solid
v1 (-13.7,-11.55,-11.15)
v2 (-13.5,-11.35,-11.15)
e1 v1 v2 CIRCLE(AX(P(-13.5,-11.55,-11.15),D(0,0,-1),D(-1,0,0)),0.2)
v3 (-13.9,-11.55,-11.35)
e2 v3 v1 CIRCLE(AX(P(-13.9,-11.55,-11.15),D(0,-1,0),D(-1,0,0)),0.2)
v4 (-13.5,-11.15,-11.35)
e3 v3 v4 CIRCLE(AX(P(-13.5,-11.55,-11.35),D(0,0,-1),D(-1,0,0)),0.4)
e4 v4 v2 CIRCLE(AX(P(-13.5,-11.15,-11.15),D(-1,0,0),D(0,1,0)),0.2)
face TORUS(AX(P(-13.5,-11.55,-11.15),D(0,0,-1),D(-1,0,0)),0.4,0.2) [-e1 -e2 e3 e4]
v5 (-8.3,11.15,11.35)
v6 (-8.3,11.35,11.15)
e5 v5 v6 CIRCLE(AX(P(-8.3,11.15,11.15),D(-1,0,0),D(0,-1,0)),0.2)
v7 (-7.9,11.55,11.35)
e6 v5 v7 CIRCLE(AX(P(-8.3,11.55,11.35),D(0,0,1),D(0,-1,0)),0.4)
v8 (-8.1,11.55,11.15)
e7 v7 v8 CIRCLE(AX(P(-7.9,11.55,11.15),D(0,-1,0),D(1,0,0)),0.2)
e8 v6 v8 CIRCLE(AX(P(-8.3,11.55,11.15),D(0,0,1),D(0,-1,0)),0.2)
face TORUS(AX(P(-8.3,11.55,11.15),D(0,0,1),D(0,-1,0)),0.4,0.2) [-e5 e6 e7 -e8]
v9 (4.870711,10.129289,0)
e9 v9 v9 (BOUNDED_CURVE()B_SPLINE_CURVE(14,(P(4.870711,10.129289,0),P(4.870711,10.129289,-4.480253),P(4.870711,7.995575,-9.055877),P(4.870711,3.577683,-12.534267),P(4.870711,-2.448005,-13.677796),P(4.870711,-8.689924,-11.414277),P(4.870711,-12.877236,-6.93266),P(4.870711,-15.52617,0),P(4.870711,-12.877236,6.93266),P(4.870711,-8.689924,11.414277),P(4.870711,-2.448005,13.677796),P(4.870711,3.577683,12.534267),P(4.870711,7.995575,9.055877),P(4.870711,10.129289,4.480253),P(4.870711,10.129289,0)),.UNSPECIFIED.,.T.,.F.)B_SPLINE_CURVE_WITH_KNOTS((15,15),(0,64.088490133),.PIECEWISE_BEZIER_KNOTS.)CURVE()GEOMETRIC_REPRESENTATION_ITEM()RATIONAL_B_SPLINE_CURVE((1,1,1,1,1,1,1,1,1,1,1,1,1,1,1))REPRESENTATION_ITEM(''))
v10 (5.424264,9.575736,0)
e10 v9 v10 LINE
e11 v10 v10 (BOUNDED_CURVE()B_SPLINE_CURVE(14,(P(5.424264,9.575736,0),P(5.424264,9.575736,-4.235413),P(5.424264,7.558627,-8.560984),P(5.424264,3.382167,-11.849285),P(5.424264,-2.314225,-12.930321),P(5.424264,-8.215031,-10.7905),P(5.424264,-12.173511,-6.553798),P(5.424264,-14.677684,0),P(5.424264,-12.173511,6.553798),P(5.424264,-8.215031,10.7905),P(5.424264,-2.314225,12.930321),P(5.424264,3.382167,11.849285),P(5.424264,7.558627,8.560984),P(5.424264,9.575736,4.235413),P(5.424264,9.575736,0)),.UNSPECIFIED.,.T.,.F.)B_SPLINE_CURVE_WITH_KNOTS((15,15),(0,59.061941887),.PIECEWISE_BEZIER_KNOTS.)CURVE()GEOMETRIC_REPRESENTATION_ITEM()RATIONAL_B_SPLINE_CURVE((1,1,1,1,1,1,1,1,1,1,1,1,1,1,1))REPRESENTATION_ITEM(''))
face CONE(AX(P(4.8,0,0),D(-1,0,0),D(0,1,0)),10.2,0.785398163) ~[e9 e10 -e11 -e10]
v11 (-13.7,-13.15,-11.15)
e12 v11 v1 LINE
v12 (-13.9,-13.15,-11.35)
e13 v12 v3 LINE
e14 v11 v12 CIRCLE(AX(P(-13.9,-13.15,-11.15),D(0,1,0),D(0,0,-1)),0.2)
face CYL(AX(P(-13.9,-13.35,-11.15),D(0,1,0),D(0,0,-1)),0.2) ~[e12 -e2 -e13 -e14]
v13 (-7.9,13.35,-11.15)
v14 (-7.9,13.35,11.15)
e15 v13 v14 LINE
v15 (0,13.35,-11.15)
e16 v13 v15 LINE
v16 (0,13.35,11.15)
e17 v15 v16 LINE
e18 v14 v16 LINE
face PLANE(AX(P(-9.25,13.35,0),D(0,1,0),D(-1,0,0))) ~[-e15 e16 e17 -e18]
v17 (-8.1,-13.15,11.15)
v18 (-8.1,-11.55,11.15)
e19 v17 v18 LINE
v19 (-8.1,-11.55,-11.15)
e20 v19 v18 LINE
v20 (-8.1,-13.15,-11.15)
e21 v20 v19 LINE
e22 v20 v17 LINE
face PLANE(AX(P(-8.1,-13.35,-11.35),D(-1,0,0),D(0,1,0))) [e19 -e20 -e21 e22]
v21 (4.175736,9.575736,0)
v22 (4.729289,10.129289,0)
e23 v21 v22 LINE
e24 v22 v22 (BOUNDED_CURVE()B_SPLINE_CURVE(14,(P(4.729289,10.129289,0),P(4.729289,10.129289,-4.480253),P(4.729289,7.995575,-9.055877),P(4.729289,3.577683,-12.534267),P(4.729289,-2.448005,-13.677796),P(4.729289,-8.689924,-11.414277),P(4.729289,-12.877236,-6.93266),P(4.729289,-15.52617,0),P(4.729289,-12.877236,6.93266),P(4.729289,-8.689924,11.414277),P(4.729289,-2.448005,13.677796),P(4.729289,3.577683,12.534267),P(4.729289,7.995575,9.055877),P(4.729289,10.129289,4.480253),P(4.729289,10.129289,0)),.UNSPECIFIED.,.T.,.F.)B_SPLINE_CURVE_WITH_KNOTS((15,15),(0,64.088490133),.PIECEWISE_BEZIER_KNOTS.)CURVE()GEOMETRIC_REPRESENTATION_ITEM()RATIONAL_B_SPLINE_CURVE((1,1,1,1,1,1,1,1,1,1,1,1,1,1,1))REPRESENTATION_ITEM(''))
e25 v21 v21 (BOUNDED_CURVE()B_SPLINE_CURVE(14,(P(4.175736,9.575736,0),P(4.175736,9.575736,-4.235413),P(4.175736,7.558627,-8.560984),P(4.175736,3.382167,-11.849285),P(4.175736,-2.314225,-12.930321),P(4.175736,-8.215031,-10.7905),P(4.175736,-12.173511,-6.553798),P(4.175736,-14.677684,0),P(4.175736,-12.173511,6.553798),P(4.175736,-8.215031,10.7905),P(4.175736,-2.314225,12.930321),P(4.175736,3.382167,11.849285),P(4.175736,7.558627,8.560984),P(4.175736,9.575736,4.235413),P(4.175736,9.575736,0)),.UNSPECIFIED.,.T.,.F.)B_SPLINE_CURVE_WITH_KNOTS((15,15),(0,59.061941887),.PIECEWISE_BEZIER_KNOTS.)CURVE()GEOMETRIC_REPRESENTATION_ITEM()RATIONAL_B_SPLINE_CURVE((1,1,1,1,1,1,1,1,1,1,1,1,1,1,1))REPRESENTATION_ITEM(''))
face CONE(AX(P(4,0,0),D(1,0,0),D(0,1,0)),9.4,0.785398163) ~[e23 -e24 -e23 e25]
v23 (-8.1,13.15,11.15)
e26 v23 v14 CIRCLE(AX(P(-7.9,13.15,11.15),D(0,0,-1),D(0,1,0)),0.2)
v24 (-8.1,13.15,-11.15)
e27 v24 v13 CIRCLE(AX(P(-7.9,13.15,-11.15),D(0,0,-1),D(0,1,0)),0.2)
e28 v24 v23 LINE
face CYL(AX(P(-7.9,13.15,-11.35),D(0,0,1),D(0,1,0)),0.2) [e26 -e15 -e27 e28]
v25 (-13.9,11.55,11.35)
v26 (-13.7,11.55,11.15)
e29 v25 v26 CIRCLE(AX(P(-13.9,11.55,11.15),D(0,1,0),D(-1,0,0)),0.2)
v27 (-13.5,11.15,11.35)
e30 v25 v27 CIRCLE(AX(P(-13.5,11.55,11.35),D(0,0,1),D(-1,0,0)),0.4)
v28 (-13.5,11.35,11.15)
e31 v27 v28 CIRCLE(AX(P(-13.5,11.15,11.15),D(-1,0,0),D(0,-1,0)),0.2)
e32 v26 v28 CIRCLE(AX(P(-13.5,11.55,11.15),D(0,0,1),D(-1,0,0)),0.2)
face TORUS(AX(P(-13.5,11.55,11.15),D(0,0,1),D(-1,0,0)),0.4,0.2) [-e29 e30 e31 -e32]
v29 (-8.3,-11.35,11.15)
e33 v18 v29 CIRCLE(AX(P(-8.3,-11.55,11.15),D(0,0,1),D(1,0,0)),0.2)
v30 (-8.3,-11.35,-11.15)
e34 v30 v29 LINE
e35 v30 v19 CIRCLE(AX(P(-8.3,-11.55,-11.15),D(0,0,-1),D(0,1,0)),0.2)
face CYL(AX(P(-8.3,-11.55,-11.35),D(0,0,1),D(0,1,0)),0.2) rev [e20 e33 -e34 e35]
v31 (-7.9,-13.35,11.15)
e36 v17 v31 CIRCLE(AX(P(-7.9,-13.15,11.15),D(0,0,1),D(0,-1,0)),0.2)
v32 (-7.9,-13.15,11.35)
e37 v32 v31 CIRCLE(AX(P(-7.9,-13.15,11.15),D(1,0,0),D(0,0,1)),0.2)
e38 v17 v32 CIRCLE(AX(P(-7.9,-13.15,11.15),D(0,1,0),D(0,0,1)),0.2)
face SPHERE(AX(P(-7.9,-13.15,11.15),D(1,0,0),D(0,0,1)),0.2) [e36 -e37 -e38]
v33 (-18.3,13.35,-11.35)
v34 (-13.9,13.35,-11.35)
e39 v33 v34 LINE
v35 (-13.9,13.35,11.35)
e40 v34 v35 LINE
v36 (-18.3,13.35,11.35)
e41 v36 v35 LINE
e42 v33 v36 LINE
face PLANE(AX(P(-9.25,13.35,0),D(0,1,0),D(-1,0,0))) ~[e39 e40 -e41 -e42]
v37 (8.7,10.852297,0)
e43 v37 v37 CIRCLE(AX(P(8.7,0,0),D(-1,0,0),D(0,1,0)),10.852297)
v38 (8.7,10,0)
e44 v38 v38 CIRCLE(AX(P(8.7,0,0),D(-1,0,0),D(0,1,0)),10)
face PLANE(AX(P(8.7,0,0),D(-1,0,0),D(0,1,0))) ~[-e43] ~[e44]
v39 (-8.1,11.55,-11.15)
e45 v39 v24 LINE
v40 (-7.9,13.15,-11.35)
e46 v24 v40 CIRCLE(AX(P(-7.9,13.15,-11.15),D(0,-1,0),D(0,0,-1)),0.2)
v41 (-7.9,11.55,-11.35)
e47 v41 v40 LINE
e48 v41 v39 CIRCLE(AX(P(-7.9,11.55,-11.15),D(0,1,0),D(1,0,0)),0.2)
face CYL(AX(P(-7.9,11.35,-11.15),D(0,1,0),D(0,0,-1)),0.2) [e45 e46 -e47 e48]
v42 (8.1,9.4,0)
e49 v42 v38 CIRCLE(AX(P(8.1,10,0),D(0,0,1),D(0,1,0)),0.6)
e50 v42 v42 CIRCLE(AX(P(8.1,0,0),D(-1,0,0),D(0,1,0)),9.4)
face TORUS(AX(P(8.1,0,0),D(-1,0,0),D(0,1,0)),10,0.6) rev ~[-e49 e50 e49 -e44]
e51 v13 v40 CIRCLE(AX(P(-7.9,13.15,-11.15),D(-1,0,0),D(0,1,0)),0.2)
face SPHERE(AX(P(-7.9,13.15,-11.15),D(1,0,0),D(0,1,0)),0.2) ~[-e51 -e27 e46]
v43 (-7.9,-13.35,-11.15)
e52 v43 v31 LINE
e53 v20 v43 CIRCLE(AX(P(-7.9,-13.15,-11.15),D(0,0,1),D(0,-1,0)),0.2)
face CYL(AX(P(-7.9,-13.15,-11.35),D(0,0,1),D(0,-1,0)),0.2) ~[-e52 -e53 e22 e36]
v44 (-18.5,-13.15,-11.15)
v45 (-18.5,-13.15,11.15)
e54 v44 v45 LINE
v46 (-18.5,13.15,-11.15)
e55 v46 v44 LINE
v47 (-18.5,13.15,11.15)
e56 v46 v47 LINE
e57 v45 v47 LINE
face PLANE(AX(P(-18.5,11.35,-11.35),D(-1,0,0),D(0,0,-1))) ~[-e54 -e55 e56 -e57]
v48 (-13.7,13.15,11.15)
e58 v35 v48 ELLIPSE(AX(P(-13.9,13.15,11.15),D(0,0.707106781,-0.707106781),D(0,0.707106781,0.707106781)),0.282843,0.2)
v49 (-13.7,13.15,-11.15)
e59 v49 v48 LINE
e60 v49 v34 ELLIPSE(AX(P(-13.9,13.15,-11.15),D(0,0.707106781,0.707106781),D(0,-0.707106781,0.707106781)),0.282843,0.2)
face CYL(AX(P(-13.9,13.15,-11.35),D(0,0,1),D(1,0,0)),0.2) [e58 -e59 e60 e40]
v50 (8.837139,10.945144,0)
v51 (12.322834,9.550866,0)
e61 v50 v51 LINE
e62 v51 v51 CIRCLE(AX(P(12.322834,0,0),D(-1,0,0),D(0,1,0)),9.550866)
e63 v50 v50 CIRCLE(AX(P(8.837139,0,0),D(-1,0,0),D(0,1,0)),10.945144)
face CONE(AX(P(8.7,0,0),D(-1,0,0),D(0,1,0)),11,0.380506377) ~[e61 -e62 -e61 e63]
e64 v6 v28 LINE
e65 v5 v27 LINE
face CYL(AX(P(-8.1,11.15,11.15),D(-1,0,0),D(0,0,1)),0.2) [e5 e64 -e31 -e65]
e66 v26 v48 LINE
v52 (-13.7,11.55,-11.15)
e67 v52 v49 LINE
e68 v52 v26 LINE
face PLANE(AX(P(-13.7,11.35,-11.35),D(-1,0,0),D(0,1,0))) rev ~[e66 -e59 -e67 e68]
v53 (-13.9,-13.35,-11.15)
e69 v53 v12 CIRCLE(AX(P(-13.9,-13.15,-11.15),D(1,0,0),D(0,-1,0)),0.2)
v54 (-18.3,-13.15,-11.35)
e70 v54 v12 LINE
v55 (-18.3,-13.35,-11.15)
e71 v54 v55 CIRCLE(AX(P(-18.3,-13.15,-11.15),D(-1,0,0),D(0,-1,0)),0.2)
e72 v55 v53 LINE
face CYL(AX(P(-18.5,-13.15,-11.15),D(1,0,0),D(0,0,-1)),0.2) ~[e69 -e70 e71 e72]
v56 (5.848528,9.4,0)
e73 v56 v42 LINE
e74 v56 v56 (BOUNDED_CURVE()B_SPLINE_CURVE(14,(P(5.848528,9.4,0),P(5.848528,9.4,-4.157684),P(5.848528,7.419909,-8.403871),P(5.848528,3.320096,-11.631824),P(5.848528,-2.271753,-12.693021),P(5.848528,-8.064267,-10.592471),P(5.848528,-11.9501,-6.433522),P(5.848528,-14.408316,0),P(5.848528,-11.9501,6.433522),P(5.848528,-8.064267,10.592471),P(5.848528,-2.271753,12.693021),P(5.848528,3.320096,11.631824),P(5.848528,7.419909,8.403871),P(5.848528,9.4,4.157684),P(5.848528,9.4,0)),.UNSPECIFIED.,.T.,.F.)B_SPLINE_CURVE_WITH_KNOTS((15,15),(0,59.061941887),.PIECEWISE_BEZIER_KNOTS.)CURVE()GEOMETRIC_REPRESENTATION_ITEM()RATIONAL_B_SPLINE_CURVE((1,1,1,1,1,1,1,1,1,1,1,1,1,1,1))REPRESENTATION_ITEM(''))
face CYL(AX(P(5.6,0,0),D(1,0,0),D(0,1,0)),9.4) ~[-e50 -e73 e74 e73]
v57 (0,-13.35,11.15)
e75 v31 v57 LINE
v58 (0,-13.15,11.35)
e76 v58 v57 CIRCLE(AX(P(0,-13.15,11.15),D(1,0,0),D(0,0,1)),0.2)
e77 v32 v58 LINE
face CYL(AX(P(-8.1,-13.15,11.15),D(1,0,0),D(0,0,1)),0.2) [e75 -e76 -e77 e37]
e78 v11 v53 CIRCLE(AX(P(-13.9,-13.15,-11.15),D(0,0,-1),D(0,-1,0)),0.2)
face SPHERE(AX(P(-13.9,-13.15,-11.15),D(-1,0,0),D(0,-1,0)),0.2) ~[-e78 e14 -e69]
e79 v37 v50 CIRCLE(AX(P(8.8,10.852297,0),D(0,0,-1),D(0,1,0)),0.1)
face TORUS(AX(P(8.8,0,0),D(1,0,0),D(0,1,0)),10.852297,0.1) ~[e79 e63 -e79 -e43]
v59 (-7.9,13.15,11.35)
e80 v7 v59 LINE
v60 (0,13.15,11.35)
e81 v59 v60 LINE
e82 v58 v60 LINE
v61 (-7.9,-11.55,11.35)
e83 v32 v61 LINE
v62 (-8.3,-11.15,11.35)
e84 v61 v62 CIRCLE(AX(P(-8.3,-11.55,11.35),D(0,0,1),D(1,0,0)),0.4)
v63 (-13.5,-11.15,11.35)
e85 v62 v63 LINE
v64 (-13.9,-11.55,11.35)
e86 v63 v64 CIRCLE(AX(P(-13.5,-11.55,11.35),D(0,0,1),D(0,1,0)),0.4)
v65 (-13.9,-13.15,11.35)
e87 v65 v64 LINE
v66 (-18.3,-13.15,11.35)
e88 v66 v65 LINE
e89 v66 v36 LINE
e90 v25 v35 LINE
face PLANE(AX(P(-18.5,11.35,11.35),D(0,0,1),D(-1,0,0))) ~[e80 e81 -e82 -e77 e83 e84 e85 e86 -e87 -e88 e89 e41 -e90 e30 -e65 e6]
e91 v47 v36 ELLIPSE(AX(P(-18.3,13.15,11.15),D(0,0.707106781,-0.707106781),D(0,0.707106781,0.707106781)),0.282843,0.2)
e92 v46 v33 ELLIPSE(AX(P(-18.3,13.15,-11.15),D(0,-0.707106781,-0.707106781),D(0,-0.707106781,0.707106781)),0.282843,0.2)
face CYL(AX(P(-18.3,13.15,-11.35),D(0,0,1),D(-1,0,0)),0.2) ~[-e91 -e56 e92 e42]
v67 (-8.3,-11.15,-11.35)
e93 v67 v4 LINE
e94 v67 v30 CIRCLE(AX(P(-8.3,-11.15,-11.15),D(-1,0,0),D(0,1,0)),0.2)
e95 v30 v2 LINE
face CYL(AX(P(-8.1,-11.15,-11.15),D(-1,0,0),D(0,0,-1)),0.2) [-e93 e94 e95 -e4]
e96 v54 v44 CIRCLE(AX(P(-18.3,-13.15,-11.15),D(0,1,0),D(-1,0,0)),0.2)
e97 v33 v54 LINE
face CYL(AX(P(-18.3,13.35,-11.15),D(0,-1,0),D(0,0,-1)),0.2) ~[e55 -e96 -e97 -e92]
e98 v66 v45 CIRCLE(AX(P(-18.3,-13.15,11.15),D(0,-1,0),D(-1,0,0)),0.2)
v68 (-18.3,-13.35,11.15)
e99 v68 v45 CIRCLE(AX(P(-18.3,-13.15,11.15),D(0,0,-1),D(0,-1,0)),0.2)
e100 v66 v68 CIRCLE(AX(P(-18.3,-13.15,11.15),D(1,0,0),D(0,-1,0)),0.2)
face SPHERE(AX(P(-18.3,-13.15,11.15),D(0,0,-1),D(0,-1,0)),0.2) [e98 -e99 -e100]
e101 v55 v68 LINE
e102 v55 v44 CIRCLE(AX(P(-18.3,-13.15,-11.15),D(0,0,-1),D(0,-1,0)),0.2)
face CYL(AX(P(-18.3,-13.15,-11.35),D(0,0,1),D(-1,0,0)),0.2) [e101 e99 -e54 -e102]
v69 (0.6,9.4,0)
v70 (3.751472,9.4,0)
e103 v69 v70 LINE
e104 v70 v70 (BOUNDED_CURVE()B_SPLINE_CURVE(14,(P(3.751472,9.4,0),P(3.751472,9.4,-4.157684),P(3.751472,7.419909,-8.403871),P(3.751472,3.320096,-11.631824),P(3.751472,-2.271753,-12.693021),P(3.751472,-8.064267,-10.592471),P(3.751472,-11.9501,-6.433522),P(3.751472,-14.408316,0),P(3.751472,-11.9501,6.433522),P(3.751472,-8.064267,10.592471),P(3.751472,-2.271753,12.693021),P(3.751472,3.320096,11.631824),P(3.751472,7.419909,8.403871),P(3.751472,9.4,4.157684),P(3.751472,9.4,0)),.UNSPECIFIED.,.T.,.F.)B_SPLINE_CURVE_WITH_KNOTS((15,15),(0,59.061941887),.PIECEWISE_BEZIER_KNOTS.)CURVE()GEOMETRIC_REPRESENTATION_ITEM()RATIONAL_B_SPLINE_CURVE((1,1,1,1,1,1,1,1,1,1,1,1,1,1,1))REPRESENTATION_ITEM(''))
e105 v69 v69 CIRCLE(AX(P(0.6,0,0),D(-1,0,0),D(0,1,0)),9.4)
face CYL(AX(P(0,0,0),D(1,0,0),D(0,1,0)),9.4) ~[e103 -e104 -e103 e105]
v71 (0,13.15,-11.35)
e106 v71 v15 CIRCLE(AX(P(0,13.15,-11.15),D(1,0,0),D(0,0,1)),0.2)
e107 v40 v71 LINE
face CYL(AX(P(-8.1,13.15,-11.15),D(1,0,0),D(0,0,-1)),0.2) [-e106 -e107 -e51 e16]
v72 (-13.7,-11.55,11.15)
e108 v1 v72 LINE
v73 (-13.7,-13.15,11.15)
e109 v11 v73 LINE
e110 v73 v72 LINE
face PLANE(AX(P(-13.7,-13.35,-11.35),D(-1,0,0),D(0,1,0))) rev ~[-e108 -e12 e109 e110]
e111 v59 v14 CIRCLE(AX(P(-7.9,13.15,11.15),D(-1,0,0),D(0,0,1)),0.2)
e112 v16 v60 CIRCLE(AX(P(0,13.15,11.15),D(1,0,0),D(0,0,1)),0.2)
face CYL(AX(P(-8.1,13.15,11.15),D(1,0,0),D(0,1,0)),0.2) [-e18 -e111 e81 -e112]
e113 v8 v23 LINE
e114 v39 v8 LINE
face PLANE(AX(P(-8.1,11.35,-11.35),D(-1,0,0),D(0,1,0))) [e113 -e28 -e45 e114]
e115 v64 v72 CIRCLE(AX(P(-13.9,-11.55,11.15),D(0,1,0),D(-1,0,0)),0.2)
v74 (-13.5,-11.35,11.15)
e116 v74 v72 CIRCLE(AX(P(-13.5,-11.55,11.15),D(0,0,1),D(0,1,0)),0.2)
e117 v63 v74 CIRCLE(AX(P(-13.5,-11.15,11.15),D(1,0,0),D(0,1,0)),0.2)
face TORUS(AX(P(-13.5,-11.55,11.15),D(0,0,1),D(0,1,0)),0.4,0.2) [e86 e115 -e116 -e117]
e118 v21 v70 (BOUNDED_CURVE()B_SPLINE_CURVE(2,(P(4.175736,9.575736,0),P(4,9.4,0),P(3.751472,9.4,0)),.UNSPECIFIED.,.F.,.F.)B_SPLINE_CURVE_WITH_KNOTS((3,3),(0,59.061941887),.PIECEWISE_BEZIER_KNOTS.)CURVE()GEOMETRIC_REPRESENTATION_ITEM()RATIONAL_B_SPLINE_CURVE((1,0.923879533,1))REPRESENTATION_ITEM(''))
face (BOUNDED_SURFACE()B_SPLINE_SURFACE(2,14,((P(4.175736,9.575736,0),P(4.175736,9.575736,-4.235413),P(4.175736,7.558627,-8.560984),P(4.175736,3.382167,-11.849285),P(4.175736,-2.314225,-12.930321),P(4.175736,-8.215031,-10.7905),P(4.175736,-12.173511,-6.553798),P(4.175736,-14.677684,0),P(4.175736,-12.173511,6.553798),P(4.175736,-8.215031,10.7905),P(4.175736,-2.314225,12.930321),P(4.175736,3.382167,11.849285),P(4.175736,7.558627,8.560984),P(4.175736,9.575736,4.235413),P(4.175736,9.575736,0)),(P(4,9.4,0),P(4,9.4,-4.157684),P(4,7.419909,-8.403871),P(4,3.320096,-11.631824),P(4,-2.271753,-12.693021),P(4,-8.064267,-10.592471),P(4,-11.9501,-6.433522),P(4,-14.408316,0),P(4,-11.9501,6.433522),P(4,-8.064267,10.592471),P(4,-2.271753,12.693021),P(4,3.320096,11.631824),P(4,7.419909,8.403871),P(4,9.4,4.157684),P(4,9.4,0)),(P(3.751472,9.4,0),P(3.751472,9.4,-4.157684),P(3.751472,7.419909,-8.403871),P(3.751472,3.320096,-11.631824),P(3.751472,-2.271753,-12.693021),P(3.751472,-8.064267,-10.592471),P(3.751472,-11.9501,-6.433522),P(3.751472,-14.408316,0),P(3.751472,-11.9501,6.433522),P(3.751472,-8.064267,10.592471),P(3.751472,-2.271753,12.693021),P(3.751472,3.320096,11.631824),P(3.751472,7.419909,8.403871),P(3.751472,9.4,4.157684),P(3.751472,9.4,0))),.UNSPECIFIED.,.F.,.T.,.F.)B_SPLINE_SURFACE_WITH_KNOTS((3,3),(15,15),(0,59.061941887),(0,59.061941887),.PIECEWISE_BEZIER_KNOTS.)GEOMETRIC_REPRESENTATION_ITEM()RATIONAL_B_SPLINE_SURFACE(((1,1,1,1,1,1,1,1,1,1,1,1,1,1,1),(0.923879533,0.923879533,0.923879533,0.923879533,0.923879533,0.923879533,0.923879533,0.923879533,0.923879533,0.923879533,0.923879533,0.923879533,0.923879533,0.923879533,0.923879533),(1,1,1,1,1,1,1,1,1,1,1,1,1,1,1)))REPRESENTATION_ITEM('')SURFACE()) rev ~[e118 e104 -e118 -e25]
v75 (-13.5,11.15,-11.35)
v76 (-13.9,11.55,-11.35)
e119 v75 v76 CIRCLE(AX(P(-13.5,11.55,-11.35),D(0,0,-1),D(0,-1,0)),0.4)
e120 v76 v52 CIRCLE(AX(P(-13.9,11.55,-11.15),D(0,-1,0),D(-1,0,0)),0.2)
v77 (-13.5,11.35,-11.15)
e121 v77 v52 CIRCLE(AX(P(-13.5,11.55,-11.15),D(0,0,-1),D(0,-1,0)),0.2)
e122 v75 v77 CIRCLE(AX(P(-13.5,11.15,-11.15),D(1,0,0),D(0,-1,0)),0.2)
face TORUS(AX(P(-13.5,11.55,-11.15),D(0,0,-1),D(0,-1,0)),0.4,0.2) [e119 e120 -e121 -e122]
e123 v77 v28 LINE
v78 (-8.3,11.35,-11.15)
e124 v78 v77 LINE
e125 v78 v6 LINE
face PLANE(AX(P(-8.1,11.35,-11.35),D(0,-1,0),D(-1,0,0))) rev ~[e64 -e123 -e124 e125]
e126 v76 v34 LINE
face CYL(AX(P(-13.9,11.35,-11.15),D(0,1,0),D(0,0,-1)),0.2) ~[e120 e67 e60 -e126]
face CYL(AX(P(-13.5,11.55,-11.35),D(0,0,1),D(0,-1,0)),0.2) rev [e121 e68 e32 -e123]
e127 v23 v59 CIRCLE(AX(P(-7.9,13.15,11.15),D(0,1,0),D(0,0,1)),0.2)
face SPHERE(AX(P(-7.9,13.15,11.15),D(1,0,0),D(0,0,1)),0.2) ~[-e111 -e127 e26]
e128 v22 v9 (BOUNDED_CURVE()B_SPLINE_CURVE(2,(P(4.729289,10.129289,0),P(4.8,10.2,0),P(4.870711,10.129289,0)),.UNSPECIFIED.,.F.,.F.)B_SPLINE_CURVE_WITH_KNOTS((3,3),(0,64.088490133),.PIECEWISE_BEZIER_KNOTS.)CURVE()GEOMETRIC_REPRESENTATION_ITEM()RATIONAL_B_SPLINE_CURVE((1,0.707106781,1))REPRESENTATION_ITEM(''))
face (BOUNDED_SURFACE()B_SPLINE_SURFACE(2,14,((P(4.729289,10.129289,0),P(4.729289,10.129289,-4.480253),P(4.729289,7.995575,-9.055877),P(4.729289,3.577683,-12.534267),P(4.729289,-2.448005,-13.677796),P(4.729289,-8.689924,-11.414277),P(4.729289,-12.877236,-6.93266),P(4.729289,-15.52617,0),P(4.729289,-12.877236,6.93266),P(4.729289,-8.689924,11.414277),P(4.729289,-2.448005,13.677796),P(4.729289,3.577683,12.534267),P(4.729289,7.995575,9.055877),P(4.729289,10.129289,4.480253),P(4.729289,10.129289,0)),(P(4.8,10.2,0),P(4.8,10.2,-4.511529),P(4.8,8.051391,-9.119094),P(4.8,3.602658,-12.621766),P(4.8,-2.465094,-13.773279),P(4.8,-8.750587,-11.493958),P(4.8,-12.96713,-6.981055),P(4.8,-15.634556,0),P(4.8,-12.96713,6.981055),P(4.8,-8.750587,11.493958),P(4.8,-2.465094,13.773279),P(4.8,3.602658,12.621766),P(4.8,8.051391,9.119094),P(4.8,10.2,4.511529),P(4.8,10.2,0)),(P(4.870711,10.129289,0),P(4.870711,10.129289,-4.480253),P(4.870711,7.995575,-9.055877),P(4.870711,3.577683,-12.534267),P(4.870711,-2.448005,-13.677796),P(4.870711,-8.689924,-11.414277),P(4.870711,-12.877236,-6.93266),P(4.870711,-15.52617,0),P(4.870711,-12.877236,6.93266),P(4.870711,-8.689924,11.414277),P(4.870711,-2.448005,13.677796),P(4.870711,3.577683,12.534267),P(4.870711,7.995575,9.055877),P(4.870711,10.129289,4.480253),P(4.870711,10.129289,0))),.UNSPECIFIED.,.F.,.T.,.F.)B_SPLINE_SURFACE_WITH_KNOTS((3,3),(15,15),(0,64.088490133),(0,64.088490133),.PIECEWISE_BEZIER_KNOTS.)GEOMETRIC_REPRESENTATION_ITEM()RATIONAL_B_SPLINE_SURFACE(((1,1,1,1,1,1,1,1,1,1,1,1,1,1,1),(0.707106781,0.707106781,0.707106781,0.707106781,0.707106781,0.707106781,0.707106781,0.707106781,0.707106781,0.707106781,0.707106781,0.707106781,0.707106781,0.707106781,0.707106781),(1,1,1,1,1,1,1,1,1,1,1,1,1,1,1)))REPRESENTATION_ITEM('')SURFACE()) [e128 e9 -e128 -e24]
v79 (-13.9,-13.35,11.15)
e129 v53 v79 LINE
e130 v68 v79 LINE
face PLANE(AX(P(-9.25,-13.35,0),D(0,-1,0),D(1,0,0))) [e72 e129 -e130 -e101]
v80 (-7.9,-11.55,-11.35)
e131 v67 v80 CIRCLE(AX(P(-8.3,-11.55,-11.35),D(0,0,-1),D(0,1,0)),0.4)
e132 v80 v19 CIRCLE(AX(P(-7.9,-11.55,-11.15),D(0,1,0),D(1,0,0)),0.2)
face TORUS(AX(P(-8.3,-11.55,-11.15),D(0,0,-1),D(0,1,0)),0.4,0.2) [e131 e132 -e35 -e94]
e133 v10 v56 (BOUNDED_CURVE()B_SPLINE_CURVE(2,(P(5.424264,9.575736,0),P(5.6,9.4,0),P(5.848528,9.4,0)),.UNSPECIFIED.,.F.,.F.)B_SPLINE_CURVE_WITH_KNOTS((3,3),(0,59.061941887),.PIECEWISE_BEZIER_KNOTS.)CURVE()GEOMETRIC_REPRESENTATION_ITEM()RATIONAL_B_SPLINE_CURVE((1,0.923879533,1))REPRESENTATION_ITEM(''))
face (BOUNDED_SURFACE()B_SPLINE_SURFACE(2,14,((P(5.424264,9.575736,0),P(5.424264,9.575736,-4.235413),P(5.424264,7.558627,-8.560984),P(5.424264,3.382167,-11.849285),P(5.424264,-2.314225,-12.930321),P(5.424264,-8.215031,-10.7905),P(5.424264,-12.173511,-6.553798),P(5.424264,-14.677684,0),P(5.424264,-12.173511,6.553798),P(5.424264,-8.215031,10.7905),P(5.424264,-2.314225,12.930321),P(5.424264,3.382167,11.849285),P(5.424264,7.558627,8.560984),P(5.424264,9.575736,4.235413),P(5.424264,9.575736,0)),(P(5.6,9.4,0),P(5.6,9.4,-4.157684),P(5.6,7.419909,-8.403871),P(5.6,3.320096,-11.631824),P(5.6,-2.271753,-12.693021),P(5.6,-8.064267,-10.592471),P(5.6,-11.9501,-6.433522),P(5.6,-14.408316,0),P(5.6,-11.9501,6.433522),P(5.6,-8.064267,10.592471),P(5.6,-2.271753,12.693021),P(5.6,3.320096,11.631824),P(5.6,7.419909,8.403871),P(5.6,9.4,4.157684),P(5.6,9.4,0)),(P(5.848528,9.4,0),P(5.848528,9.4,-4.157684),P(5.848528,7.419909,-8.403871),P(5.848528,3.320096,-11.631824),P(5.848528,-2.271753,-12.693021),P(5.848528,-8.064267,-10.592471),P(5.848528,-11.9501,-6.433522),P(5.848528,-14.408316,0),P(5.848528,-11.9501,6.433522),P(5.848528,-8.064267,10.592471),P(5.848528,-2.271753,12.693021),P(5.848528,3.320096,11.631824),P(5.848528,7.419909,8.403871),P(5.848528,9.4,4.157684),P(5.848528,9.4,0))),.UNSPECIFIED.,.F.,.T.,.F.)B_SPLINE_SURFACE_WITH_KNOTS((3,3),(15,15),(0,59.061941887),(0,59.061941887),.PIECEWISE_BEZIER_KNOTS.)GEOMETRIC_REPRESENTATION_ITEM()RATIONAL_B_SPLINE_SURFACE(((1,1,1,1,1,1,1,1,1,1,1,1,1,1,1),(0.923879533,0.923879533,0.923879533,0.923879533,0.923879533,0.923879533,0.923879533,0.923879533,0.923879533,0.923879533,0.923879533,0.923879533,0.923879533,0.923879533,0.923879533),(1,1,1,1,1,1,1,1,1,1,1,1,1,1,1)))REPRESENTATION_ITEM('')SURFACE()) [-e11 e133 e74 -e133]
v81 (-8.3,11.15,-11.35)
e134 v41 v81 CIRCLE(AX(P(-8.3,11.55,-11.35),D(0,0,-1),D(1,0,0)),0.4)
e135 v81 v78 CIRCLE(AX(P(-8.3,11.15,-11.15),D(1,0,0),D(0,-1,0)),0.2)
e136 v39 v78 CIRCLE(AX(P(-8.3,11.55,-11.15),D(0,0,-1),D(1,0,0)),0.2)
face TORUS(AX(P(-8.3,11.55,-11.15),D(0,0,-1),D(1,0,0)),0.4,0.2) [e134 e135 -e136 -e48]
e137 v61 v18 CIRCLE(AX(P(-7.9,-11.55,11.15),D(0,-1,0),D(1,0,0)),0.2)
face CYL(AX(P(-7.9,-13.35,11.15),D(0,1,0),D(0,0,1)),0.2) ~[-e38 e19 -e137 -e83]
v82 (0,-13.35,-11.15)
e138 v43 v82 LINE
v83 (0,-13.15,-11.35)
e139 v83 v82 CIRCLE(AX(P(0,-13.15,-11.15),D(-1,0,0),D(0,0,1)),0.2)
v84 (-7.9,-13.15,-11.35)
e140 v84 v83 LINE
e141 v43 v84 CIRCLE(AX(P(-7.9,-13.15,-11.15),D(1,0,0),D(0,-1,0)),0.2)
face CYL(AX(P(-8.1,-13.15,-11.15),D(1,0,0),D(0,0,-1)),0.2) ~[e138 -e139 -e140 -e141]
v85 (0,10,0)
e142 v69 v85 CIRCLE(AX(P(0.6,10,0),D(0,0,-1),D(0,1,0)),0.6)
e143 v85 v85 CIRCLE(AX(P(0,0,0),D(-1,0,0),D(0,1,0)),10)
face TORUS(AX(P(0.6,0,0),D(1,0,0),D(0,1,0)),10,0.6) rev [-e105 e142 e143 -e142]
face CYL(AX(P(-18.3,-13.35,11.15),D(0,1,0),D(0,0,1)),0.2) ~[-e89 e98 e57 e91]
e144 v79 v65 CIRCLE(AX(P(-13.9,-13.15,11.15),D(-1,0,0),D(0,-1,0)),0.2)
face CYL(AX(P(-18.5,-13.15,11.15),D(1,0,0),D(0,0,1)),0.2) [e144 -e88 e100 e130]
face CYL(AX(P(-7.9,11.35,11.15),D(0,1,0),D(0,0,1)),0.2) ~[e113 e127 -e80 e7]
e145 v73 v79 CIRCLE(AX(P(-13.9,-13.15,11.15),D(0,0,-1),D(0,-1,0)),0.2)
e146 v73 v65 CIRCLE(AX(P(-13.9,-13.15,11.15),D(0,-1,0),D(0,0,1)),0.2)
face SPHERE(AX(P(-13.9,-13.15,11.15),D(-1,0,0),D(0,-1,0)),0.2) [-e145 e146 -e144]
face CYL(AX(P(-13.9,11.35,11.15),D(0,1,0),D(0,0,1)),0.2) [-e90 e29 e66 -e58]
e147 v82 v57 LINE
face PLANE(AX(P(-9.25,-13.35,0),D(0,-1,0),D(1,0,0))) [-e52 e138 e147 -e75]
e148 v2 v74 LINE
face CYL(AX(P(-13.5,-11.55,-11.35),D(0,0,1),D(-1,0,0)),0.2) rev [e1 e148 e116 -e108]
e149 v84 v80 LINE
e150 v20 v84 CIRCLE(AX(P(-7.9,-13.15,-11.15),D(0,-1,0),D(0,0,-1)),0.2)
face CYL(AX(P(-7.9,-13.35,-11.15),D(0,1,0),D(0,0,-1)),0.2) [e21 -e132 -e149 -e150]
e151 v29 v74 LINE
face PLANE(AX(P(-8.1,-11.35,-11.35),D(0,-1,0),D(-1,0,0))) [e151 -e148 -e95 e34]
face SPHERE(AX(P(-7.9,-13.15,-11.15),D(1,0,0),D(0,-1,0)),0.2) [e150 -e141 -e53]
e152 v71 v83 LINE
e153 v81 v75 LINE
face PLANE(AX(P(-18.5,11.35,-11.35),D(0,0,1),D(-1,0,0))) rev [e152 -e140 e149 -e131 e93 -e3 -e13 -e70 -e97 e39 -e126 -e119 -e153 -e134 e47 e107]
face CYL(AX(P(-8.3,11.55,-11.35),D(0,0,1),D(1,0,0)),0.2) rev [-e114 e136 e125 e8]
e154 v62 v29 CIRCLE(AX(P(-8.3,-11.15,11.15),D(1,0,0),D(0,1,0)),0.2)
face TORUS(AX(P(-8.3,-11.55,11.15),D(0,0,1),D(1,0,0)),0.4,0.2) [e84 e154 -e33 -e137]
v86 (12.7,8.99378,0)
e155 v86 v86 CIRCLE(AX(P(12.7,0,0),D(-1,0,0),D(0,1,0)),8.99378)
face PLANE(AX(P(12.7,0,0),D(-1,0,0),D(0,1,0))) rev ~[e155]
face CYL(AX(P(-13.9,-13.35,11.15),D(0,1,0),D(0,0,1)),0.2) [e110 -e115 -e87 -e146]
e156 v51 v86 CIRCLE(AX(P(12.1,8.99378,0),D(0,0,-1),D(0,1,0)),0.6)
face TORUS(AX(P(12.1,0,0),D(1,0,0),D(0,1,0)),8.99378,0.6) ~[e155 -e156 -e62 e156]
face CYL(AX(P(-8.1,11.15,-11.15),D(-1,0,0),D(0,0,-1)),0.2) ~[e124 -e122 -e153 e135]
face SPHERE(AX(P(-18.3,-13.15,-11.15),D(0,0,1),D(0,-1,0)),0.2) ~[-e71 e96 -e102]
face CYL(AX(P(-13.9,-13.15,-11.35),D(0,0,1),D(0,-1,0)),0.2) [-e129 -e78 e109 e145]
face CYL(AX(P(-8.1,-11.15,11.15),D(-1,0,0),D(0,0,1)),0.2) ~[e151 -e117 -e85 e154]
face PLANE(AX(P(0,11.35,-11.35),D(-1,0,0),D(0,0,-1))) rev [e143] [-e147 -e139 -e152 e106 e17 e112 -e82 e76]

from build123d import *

# Parameters (mm, degrees)
SKETCH2_W           = 18.5
SKETCH2_H           = 22.7
SKETCH2_R           = 3.175
BOSS_EXTRUDE2_DEPTH = 11.35
SKETCH12_R          = 3.175
BOSS_EXTRUDE3_DEPTH = 22.7
SKETCH13_W          = 18.5
SKETCH13_H          = 22.7
BOSS_EXTRUDE4_DEPTH = 2
SKETCH15_W          = 5.6
SKETCH15_H          = 2
CUT_EXTRUDE1_DEPTH  = 33.183264284
FILLET1_R           = 0.1
FILLET2_R           = 0.6
FILLET5_R           = 0.2


with BuildPart() as part:
    # Sketch2 → Boss-Extrude2 (new, symmetric)
    with BuildSketch(Plane(origin=(0, 0, 0), x_dir=(1, 0, 0), z_dir=(0, 1, 0))):
        with Locations((-9.25, 0)):
            Rectangle(SKETCH2_W, SKETCH2_H)
        with Locations(Location((-12.7, 0, 0), (0, 0, 270))):
            Circle(SKETCH2_R, mode=Mode.SUBTRACT)
    extrude(amount=BOSS_EXTRUDE2_DEPTH, both=True)

    # Sketch3 → Revolve1 (revolve)
    with BuildSketch(Plane.XY):
        Polygon((0, 0), (0, 9.4), (4, 9.4), (4.8, 10.2), (5.6, 9.4), (8.7, 9.4), (8.7, 11), (12.7, 9.4), (12.7, 0), align=None)
    revolve(axis=Axis((12.7, 0, 0), (-1, 0, 0)))

    # Sketch12 → Boss-Extrude3 (add)
    with BuildSketch(Plane.XZ.offset(11.35)):
        with Locations((-12.7, 0)):
            Circle(SKETCH12_R)
    extrude(amount=-BOSS_EXTRUDE3_DEPTH)

    # Sketch13 → Boss-Extrude4 (add)
    with BuildSketch(Plane.XZ.offset(11.35)):
        with Locations((-9.25, 0)):
            Rectangle(SKETCH13_W, SKETCH13_H)
    boss_extrude4 = extrude(amount=BOSS_EXTRUDE4_DEPTH)

    # Mirror1: Boss-Extrude4 across plane
    add(boss_extrude4.mirror(Plane.ZX))

    # Sketch15 → Cut-Extrude1 (cut, through all)
    with BuildSketch(Plane(origin=(0, 0, -11.35), x_dir=(-1, 0, 0), z_dir=(0, 0, -1))):
        with Locations((10.9, 12.35)):
            Rectangle(SKETCH15_W, SKETCH15_H)
        with Locations((10.9, -12.35)):
            Rectangle(SKETCH15_W, SKETCH15_H)
    extrude(amount=-CUT_EXTRUDE1_DEPTH, mode=Mode.SUBTRACT)

    # Fillet1
    fillet1_edges = [part.edges().sort_by_distance(p)[0] for p in [
        (8.7, -11, 0),
        (4.8, -10.2, 0),
    ]]
    fillet(fillet1_edges, radius=FILLET1_R)

    # Fillet2
    fillet2_edges = [part.edges().sort_by_distance(p)[0] for p in [
        (0, -9.4, 0),
        (5.6, -9.4, 0),
        (8.7, -9.4, 0),
        (12.7, -9.4, 0),
        (4, -9.4, 0),
    ]]
    fillet(fillet2_edges, radius=FILLET2_R)

    # Fillet5
    fillet5_edges = [part.edges().sort_by_distance(p)[0] for p in [
        (-4.05, -13.35, 11.35),
        (-18.5, -13.35, 0),
        (-16.1, -13.35, -11.35),
        (-18.5, 13.35, 0),
        (-4.05, 13.35, 11.35),
        (-4.05, 13.35, -11.35),
        (-16.1, -13.35, 11.35),
        (-4.05, -13.35, -11.35),
        (-8.1, 12.35, 11.35),
        (-8.1, 11.35, 0),
        (-8.1, 13.35, 0),
        (-13.7, 12.35, 11.35),
        (-13.7, 13.35, 0),
        (-10.9, 11.35, 11.35),
        (-13.7, 11.35, 0),
        (-8.1, 12.35, -11.35),
        (-10.9, 11.35, -11.35),
        (-13.7, 12.35, -11.35),
        (-13.7, -13.35, 0),
        (-8.1, -12.35, 11.35),
        (-8.1, -13.35, 0),
        (-10.9, -11.35, 11.35),
        (-8.1, -11.35, 0),
        (-13.7, -12.35, 11.35),
        (-13.7, -11.35, 0),
        (-13.7, -12.35, -11.35),
        (-10.9, -11.35, -11.35),
        (-8.1, -12.35, -11.35),
        (-18.5, 0, 11.35),
        (-18.5, 0, -11.35),
    ]]
    fillet(fillet5_edges, radius=FILLET5_R)


solid = part.part
